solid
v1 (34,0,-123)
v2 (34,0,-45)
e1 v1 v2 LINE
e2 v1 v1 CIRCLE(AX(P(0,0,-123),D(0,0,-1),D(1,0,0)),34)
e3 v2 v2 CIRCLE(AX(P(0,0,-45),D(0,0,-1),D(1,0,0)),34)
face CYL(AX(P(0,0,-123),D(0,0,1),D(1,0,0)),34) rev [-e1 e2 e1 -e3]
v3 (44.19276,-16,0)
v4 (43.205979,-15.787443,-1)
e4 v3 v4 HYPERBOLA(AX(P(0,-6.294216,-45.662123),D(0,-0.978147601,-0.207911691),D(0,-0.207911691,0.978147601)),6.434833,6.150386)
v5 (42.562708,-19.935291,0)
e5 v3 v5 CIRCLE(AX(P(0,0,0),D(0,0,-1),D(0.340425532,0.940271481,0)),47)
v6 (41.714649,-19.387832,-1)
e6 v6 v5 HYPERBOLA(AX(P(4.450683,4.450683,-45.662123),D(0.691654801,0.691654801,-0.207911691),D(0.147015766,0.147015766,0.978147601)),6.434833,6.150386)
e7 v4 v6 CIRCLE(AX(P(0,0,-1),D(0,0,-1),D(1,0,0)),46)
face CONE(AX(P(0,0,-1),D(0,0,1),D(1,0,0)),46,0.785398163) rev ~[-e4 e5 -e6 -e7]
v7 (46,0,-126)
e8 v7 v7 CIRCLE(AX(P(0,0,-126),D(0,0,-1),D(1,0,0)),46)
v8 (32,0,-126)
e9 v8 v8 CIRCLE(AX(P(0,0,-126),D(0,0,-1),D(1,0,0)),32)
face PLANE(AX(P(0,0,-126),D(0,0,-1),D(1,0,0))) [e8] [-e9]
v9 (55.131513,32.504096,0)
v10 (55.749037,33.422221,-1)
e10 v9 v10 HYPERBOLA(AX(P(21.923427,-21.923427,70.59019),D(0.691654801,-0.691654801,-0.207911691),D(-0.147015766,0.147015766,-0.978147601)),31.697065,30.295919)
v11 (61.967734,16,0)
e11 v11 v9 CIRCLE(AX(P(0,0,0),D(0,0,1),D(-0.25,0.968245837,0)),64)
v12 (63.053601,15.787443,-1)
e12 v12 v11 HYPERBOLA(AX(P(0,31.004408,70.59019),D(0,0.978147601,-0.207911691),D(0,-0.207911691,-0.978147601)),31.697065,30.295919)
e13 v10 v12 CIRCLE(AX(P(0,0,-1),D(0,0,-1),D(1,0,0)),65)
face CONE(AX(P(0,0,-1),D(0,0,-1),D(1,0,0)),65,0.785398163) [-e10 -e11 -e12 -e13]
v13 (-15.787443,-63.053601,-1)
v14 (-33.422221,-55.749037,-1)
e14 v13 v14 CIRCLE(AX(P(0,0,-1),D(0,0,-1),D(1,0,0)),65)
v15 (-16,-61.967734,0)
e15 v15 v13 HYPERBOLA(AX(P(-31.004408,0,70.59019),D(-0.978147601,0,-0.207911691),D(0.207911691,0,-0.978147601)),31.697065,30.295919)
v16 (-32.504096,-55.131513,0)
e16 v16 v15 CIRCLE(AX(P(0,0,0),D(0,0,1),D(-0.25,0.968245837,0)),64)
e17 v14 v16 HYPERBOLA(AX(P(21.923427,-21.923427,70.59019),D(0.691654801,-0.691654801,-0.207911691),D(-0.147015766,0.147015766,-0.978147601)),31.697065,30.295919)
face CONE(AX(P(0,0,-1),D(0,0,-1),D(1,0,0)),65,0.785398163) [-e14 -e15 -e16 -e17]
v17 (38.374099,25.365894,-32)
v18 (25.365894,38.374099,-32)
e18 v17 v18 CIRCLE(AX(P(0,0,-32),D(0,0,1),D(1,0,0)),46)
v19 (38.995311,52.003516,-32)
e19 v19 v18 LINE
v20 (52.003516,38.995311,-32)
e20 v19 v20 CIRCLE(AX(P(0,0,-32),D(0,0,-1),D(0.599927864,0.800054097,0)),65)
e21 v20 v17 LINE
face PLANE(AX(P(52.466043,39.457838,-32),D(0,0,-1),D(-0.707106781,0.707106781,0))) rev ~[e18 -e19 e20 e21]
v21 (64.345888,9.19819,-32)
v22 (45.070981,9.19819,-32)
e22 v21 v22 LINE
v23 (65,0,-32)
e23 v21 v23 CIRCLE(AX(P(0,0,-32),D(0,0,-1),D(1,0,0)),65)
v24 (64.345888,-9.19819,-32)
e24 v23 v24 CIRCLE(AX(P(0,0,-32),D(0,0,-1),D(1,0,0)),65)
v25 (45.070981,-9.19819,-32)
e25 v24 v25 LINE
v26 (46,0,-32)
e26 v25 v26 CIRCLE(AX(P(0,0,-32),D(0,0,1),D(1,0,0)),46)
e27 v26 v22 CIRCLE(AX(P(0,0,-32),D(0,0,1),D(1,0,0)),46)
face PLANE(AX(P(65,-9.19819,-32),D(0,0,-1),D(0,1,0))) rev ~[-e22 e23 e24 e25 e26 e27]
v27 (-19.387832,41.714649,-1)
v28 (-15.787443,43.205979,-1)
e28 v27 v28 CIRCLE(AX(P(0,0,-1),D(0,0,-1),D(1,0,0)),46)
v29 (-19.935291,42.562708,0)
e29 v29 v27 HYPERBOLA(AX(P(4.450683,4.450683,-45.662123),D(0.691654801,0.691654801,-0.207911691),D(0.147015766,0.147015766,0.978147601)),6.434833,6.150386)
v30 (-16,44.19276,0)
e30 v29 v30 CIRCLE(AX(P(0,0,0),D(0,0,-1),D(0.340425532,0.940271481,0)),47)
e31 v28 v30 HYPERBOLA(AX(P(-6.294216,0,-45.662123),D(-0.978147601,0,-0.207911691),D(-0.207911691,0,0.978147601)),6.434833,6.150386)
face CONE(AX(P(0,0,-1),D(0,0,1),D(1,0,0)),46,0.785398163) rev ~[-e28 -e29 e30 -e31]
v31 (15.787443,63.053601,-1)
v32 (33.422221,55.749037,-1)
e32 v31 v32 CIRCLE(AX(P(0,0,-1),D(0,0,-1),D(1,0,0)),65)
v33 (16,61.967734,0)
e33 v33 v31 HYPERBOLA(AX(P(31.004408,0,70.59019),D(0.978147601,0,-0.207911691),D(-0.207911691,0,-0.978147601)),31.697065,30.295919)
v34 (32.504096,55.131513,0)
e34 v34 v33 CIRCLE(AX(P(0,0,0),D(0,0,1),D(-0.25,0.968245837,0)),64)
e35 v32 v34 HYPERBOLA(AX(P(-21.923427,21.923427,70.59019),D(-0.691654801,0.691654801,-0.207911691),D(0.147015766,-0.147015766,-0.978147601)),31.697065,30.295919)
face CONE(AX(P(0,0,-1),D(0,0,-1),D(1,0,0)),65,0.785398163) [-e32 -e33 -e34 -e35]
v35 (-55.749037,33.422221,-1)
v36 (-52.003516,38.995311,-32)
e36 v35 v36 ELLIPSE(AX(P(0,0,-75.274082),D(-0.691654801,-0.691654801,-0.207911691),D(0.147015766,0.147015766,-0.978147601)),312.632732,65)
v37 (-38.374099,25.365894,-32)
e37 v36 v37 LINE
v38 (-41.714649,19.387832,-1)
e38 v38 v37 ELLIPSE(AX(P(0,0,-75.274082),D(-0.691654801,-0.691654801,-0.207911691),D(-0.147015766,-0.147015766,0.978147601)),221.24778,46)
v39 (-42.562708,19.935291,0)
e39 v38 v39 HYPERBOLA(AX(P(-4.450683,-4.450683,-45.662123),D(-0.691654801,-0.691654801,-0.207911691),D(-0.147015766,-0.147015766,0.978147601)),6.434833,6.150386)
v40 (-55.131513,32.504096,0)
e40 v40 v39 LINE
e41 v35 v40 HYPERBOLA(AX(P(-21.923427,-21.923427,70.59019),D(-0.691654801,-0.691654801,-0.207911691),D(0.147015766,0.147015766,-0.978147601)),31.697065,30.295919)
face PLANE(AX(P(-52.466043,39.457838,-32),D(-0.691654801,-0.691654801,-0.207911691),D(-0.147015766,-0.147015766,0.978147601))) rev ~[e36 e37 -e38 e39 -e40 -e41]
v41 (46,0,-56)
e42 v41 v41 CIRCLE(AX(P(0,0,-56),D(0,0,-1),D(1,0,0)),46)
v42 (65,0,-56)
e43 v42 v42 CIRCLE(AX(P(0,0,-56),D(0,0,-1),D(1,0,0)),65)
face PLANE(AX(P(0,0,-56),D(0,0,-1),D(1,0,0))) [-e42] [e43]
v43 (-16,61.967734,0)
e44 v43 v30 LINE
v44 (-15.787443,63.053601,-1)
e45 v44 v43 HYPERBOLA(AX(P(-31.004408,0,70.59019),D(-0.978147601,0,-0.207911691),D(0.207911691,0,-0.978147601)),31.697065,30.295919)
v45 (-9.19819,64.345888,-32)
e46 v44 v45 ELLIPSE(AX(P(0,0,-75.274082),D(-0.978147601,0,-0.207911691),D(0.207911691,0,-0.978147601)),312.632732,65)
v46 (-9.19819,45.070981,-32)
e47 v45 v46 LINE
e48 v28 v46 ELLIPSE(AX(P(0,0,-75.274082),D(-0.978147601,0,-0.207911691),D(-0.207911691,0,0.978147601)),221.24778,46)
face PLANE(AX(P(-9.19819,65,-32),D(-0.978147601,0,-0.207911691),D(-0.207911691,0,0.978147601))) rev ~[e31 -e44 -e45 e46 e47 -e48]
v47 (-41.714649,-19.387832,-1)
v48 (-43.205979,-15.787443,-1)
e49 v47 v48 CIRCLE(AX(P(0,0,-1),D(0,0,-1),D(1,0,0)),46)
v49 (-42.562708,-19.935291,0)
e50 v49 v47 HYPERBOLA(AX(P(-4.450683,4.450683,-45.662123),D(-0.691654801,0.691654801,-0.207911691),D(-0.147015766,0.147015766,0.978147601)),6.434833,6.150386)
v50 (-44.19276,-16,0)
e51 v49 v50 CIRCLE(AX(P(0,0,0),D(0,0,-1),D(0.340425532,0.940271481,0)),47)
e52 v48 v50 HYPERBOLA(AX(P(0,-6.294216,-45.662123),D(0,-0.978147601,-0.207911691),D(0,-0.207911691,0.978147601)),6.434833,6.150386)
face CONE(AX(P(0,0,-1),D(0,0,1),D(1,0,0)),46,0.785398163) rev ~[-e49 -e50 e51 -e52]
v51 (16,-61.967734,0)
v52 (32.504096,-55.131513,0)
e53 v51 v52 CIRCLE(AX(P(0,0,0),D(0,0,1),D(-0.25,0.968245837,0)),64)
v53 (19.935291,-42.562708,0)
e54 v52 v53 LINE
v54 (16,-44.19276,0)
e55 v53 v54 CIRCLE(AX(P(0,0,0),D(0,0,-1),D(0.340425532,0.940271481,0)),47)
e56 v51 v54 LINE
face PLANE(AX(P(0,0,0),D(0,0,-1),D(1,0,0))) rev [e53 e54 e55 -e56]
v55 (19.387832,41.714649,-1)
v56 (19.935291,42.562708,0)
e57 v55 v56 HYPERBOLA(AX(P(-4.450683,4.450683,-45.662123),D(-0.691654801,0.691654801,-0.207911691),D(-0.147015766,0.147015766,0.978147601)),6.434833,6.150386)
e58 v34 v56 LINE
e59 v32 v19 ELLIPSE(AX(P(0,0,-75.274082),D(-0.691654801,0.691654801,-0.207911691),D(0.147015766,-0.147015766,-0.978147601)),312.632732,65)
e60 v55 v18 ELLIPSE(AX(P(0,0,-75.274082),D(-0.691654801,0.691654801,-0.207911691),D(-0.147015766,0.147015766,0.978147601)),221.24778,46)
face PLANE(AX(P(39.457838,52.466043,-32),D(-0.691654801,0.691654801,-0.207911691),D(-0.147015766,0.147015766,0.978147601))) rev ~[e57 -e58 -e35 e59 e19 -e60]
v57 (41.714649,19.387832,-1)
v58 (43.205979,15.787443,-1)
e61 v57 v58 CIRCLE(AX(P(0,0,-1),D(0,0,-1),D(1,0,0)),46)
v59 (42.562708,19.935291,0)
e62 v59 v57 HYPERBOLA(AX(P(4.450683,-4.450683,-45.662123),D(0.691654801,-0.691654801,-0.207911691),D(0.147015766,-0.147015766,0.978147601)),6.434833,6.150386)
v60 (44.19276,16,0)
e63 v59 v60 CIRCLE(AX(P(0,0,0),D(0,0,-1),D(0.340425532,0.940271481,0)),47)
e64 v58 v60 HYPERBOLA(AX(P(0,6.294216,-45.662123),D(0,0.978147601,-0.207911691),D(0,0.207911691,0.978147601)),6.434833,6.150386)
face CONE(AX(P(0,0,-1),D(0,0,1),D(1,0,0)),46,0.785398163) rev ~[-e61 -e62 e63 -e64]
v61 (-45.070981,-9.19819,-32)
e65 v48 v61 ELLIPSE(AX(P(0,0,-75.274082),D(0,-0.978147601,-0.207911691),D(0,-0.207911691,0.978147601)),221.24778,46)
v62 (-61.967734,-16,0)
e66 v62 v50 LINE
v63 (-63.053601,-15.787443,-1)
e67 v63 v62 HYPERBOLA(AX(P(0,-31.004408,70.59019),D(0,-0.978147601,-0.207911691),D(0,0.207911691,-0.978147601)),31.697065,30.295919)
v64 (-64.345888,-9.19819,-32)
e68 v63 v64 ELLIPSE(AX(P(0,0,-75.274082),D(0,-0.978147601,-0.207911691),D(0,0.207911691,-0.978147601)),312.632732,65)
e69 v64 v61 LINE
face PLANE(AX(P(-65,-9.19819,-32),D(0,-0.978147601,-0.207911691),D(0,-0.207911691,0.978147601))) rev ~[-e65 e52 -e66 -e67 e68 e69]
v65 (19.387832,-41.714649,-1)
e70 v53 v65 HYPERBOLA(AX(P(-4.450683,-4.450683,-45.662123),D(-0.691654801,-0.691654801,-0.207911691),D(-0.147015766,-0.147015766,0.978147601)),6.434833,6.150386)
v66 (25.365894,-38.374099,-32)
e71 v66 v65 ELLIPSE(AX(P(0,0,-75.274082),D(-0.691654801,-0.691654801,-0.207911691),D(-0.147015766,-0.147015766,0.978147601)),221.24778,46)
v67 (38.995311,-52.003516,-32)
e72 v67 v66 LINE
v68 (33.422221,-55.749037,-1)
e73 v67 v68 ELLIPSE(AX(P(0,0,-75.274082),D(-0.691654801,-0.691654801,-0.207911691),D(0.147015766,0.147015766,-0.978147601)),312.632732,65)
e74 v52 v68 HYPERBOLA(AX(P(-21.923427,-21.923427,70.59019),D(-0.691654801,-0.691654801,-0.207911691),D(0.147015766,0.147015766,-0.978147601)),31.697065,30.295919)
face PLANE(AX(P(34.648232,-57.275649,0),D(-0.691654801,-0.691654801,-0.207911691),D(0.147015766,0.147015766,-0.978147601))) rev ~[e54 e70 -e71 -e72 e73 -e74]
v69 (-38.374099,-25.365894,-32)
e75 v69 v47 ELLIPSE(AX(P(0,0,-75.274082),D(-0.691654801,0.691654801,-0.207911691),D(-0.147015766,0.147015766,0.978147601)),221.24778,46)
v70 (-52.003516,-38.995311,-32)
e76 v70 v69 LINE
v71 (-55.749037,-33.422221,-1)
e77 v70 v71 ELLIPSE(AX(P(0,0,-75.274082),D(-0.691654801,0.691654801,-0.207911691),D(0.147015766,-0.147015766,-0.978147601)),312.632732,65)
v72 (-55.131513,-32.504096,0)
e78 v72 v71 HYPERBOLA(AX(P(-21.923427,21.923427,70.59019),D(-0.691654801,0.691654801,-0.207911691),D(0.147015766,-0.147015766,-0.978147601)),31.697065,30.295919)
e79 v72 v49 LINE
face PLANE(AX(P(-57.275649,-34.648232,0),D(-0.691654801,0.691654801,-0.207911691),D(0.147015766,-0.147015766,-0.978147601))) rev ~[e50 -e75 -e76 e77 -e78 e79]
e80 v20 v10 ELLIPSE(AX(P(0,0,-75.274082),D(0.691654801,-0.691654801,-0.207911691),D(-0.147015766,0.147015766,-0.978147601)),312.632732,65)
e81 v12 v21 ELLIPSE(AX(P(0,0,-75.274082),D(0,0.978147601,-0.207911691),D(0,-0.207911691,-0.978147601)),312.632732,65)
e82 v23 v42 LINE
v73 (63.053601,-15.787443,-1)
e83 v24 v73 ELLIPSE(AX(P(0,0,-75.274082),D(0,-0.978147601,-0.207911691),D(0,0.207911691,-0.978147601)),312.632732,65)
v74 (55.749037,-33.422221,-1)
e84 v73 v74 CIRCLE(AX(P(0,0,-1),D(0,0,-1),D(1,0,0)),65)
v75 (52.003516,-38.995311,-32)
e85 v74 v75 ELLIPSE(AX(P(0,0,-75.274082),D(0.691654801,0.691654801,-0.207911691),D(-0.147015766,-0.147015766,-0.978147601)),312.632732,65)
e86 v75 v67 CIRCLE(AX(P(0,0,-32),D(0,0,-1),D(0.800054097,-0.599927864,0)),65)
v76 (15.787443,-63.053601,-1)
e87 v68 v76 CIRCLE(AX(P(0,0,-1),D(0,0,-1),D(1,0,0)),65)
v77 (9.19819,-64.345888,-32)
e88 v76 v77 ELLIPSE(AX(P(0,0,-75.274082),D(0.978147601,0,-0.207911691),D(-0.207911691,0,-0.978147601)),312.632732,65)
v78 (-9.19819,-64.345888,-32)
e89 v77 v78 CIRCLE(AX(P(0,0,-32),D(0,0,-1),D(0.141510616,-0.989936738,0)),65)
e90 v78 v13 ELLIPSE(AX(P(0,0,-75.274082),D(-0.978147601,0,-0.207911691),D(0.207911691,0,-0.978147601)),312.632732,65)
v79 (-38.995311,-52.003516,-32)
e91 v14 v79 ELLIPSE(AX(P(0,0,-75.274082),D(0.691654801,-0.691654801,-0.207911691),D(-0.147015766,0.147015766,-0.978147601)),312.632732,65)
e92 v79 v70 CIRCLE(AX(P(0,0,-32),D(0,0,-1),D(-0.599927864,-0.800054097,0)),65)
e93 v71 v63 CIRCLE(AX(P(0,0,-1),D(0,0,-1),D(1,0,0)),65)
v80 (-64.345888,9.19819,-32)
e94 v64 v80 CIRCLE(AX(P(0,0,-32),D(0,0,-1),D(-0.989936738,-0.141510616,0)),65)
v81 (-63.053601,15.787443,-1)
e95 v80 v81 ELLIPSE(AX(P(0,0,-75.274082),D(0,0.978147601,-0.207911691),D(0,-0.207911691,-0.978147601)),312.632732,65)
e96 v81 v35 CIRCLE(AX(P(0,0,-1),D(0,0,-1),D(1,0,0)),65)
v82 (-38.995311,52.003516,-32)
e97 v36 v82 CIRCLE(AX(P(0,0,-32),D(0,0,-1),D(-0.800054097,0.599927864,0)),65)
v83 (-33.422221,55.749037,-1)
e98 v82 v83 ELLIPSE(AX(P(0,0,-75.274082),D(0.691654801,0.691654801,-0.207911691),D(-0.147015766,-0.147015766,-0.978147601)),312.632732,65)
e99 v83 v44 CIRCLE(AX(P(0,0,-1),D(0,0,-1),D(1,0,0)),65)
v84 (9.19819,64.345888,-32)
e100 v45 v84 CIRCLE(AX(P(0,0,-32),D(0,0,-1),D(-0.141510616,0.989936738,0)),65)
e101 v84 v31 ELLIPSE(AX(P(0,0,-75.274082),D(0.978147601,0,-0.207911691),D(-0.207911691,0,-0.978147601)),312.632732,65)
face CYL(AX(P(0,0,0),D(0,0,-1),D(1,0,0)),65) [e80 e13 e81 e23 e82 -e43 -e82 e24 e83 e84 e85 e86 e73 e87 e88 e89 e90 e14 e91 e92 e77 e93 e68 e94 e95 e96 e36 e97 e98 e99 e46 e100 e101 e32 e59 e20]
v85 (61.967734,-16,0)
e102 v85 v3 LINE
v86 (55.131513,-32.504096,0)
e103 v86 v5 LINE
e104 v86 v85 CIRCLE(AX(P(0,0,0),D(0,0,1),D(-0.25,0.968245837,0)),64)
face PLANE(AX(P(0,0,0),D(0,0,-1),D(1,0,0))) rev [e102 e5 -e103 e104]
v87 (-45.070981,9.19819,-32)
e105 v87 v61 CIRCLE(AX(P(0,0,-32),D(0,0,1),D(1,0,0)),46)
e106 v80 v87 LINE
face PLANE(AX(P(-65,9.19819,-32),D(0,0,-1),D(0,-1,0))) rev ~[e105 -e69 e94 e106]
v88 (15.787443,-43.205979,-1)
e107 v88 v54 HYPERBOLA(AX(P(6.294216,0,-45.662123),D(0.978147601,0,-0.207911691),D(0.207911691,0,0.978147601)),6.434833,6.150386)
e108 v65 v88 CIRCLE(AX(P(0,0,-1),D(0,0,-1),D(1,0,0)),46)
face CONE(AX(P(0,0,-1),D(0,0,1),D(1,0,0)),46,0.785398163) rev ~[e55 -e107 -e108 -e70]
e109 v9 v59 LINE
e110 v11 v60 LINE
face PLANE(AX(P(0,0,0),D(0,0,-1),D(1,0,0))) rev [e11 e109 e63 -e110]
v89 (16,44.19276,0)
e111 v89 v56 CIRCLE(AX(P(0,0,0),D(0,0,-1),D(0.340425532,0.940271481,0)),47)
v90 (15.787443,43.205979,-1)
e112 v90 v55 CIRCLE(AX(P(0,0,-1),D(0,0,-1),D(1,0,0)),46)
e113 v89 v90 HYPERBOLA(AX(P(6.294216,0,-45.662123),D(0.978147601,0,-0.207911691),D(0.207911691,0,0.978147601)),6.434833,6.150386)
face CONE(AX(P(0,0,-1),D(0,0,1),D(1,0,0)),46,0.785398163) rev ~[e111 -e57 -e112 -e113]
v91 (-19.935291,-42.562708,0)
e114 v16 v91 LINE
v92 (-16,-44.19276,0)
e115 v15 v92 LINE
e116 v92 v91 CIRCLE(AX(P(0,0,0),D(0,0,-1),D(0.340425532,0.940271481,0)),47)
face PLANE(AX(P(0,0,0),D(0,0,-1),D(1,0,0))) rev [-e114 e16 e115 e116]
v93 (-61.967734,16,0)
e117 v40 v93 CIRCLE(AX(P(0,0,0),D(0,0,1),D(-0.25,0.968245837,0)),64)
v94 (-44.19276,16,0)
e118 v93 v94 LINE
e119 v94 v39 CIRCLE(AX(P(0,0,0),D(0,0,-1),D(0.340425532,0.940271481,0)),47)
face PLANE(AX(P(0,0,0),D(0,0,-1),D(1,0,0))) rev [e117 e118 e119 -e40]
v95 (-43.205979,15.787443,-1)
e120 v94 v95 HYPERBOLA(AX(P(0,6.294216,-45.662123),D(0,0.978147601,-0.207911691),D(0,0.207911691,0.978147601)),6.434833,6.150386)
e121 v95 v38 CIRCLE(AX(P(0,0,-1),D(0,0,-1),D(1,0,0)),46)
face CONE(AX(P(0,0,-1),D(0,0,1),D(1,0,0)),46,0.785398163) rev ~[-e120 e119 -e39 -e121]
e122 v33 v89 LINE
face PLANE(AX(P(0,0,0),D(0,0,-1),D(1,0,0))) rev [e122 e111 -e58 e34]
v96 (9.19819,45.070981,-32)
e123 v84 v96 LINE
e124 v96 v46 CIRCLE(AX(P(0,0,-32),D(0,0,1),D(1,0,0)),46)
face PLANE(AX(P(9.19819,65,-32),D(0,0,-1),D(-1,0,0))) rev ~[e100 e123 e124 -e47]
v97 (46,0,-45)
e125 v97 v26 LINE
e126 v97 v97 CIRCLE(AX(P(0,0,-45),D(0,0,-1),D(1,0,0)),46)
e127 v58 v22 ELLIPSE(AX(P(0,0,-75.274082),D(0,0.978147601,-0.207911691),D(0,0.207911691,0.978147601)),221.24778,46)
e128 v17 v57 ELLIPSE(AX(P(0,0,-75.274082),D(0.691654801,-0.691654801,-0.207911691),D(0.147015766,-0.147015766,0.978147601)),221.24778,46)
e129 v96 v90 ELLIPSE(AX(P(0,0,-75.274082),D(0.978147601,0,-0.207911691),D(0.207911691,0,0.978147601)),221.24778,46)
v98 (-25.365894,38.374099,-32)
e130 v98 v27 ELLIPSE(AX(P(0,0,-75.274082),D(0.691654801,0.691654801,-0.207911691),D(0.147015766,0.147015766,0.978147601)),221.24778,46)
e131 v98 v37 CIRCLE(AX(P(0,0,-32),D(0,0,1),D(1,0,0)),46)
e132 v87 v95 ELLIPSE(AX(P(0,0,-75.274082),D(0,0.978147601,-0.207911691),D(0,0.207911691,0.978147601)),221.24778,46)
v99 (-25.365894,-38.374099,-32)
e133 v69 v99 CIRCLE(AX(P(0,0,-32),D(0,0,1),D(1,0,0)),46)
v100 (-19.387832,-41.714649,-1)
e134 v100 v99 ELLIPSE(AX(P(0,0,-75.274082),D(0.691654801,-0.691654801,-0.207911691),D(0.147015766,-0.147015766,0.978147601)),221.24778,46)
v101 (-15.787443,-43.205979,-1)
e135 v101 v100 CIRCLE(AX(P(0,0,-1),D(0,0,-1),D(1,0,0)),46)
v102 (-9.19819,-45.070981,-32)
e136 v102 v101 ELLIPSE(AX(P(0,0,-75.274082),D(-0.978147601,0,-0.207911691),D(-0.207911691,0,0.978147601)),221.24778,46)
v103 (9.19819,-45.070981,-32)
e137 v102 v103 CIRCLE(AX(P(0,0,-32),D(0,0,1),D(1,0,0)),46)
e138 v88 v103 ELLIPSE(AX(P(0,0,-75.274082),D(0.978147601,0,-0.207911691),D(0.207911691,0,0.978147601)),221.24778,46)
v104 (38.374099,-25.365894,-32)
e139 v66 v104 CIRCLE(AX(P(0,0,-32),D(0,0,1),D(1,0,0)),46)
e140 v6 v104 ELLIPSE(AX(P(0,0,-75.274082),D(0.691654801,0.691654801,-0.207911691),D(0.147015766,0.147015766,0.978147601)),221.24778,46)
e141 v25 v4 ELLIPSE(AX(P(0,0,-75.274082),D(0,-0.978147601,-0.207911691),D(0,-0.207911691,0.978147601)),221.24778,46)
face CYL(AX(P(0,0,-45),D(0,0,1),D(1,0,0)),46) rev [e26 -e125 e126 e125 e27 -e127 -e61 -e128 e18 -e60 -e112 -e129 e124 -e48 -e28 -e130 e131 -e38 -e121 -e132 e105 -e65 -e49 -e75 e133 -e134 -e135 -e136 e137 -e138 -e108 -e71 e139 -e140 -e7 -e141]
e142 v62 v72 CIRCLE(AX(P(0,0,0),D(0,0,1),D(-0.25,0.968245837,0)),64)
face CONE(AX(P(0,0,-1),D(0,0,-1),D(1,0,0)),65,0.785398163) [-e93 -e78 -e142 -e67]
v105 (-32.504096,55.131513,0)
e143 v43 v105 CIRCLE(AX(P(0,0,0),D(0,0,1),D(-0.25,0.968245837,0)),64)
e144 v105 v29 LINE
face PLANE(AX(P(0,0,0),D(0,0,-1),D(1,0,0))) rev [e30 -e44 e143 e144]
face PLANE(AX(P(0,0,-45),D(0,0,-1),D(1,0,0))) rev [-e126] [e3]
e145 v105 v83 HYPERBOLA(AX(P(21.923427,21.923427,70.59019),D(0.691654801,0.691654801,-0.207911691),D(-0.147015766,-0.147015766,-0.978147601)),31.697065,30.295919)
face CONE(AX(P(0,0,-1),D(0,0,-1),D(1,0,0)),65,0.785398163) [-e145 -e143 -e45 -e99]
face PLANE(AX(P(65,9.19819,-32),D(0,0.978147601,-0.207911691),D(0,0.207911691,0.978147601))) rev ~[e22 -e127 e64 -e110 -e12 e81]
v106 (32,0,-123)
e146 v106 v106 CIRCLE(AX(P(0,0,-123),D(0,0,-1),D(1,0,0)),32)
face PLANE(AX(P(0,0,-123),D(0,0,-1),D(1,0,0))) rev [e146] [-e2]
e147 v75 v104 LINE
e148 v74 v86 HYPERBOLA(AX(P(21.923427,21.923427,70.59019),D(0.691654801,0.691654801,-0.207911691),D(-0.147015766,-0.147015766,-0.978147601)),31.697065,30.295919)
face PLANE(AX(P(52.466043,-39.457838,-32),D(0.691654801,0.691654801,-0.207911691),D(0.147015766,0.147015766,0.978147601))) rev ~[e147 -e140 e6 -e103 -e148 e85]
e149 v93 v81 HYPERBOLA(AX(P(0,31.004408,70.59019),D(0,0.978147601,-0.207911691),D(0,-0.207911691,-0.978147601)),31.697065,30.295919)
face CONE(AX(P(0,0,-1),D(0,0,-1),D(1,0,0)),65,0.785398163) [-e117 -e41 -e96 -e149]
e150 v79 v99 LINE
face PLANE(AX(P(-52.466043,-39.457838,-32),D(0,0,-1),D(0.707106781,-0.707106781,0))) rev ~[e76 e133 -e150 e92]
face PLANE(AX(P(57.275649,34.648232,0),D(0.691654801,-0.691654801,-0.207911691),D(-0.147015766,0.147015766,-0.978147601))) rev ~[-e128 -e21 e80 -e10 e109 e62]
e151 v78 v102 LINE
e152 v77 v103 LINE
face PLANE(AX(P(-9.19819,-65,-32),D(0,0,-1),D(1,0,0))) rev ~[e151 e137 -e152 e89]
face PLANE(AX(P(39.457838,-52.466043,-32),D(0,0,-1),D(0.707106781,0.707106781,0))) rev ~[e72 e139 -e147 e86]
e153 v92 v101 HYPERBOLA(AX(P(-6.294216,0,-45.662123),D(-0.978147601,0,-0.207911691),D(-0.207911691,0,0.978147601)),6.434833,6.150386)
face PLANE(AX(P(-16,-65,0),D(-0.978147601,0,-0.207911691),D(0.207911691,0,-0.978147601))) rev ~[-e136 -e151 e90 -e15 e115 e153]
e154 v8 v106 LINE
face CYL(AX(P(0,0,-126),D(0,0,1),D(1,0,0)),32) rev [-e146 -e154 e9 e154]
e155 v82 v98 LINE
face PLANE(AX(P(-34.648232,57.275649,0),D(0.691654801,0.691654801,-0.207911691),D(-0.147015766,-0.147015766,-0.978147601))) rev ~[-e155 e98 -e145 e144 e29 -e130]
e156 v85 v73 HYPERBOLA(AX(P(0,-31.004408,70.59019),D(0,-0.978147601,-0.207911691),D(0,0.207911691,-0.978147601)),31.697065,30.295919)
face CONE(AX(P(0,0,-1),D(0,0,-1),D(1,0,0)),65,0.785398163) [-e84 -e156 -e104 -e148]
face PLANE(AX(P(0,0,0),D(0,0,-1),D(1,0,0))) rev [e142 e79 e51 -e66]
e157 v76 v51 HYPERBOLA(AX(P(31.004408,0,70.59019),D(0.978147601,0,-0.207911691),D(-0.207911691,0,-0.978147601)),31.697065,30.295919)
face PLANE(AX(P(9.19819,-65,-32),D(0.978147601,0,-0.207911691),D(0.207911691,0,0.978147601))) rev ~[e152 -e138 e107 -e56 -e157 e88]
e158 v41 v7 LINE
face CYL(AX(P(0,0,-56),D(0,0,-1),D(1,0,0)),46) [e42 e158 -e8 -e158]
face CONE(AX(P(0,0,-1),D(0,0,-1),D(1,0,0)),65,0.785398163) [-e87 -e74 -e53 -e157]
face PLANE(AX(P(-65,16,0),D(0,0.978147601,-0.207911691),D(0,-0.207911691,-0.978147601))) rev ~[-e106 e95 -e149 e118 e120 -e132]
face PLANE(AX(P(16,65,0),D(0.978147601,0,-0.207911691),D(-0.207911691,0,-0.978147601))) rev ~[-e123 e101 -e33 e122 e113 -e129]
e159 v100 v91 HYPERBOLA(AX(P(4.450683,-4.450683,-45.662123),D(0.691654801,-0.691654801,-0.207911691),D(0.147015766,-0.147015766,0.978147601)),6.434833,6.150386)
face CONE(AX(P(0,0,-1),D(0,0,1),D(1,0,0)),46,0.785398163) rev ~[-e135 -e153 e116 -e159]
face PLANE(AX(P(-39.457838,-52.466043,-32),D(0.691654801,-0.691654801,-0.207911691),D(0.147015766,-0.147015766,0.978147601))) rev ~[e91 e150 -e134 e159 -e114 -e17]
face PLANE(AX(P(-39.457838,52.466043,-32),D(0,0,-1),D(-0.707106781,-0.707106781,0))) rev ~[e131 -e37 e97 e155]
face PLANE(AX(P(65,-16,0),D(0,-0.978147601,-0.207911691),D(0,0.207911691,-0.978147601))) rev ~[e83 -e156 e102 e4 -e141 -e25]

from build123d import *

# Parameters (mm, degrees)
CHAMFER_1_SIZE           = 1
CUT_EXTRUDE_1_DEPTH      = 65
PATTERN_CIRCULAR_1_COUNT = 8


with BuildPart() as part:
    # Эскиз1 → Повернуть1 (revolve)
    with BuildSketch(Plane(origin=(0, 0, 0), x_dir=(0, 0, -1), z_dir=(1, 0, 0))):
        Polygon((0, 46), (0, 65), (56, 65), (56, 46), (126, 46), (126, 32), (123, 32), (123, 34), (45, 34), (45, 46), align=None)
    revolve(axis=Axis((0, 0, 0), (0, 0, -1)))

    # Фаска1
    chamfer_1_edges = [part.edges().sort_by_distance(p)[0] for p in [
        (0, -65, 0),
        (0, -46, 0),
    ]]
    chamfer(chamfer_1_edges, length=CHAMFER_1_SIZE)

    # Эскиз2 → Вырез-Вытянуть1 (cut)
    with BuildSketch(Plane(origin=(0, 65, -28), x_dir=(-1, 0, 0), z_dir=(0, 1, 0))):
        Polygon((16, 28), (-16, 28), (-9.198190027, -4), (9.198190027, -4), align=None)
    cut_extrude_1 = extrude(amount=-CUT_EXTRUDE_1_DEPTH, mode=Mode.SUBTRACT)

    # Круговой массив1: Вырез-Вытянуть1 ×8 about axis
    pattern_circular_1_axis = Axis((0, 0, -45), (0, 0, 1))
    for i in range(1, PATTERN_CIRCULAR_1_COUNT):
        add(cut_extrude_1.rotate(pattern_circular_1_axis, i * 360 / PATTERN_CIRCULAR_1_COUNT), mode=Mode.SUBTRACT)


solid = part.part
